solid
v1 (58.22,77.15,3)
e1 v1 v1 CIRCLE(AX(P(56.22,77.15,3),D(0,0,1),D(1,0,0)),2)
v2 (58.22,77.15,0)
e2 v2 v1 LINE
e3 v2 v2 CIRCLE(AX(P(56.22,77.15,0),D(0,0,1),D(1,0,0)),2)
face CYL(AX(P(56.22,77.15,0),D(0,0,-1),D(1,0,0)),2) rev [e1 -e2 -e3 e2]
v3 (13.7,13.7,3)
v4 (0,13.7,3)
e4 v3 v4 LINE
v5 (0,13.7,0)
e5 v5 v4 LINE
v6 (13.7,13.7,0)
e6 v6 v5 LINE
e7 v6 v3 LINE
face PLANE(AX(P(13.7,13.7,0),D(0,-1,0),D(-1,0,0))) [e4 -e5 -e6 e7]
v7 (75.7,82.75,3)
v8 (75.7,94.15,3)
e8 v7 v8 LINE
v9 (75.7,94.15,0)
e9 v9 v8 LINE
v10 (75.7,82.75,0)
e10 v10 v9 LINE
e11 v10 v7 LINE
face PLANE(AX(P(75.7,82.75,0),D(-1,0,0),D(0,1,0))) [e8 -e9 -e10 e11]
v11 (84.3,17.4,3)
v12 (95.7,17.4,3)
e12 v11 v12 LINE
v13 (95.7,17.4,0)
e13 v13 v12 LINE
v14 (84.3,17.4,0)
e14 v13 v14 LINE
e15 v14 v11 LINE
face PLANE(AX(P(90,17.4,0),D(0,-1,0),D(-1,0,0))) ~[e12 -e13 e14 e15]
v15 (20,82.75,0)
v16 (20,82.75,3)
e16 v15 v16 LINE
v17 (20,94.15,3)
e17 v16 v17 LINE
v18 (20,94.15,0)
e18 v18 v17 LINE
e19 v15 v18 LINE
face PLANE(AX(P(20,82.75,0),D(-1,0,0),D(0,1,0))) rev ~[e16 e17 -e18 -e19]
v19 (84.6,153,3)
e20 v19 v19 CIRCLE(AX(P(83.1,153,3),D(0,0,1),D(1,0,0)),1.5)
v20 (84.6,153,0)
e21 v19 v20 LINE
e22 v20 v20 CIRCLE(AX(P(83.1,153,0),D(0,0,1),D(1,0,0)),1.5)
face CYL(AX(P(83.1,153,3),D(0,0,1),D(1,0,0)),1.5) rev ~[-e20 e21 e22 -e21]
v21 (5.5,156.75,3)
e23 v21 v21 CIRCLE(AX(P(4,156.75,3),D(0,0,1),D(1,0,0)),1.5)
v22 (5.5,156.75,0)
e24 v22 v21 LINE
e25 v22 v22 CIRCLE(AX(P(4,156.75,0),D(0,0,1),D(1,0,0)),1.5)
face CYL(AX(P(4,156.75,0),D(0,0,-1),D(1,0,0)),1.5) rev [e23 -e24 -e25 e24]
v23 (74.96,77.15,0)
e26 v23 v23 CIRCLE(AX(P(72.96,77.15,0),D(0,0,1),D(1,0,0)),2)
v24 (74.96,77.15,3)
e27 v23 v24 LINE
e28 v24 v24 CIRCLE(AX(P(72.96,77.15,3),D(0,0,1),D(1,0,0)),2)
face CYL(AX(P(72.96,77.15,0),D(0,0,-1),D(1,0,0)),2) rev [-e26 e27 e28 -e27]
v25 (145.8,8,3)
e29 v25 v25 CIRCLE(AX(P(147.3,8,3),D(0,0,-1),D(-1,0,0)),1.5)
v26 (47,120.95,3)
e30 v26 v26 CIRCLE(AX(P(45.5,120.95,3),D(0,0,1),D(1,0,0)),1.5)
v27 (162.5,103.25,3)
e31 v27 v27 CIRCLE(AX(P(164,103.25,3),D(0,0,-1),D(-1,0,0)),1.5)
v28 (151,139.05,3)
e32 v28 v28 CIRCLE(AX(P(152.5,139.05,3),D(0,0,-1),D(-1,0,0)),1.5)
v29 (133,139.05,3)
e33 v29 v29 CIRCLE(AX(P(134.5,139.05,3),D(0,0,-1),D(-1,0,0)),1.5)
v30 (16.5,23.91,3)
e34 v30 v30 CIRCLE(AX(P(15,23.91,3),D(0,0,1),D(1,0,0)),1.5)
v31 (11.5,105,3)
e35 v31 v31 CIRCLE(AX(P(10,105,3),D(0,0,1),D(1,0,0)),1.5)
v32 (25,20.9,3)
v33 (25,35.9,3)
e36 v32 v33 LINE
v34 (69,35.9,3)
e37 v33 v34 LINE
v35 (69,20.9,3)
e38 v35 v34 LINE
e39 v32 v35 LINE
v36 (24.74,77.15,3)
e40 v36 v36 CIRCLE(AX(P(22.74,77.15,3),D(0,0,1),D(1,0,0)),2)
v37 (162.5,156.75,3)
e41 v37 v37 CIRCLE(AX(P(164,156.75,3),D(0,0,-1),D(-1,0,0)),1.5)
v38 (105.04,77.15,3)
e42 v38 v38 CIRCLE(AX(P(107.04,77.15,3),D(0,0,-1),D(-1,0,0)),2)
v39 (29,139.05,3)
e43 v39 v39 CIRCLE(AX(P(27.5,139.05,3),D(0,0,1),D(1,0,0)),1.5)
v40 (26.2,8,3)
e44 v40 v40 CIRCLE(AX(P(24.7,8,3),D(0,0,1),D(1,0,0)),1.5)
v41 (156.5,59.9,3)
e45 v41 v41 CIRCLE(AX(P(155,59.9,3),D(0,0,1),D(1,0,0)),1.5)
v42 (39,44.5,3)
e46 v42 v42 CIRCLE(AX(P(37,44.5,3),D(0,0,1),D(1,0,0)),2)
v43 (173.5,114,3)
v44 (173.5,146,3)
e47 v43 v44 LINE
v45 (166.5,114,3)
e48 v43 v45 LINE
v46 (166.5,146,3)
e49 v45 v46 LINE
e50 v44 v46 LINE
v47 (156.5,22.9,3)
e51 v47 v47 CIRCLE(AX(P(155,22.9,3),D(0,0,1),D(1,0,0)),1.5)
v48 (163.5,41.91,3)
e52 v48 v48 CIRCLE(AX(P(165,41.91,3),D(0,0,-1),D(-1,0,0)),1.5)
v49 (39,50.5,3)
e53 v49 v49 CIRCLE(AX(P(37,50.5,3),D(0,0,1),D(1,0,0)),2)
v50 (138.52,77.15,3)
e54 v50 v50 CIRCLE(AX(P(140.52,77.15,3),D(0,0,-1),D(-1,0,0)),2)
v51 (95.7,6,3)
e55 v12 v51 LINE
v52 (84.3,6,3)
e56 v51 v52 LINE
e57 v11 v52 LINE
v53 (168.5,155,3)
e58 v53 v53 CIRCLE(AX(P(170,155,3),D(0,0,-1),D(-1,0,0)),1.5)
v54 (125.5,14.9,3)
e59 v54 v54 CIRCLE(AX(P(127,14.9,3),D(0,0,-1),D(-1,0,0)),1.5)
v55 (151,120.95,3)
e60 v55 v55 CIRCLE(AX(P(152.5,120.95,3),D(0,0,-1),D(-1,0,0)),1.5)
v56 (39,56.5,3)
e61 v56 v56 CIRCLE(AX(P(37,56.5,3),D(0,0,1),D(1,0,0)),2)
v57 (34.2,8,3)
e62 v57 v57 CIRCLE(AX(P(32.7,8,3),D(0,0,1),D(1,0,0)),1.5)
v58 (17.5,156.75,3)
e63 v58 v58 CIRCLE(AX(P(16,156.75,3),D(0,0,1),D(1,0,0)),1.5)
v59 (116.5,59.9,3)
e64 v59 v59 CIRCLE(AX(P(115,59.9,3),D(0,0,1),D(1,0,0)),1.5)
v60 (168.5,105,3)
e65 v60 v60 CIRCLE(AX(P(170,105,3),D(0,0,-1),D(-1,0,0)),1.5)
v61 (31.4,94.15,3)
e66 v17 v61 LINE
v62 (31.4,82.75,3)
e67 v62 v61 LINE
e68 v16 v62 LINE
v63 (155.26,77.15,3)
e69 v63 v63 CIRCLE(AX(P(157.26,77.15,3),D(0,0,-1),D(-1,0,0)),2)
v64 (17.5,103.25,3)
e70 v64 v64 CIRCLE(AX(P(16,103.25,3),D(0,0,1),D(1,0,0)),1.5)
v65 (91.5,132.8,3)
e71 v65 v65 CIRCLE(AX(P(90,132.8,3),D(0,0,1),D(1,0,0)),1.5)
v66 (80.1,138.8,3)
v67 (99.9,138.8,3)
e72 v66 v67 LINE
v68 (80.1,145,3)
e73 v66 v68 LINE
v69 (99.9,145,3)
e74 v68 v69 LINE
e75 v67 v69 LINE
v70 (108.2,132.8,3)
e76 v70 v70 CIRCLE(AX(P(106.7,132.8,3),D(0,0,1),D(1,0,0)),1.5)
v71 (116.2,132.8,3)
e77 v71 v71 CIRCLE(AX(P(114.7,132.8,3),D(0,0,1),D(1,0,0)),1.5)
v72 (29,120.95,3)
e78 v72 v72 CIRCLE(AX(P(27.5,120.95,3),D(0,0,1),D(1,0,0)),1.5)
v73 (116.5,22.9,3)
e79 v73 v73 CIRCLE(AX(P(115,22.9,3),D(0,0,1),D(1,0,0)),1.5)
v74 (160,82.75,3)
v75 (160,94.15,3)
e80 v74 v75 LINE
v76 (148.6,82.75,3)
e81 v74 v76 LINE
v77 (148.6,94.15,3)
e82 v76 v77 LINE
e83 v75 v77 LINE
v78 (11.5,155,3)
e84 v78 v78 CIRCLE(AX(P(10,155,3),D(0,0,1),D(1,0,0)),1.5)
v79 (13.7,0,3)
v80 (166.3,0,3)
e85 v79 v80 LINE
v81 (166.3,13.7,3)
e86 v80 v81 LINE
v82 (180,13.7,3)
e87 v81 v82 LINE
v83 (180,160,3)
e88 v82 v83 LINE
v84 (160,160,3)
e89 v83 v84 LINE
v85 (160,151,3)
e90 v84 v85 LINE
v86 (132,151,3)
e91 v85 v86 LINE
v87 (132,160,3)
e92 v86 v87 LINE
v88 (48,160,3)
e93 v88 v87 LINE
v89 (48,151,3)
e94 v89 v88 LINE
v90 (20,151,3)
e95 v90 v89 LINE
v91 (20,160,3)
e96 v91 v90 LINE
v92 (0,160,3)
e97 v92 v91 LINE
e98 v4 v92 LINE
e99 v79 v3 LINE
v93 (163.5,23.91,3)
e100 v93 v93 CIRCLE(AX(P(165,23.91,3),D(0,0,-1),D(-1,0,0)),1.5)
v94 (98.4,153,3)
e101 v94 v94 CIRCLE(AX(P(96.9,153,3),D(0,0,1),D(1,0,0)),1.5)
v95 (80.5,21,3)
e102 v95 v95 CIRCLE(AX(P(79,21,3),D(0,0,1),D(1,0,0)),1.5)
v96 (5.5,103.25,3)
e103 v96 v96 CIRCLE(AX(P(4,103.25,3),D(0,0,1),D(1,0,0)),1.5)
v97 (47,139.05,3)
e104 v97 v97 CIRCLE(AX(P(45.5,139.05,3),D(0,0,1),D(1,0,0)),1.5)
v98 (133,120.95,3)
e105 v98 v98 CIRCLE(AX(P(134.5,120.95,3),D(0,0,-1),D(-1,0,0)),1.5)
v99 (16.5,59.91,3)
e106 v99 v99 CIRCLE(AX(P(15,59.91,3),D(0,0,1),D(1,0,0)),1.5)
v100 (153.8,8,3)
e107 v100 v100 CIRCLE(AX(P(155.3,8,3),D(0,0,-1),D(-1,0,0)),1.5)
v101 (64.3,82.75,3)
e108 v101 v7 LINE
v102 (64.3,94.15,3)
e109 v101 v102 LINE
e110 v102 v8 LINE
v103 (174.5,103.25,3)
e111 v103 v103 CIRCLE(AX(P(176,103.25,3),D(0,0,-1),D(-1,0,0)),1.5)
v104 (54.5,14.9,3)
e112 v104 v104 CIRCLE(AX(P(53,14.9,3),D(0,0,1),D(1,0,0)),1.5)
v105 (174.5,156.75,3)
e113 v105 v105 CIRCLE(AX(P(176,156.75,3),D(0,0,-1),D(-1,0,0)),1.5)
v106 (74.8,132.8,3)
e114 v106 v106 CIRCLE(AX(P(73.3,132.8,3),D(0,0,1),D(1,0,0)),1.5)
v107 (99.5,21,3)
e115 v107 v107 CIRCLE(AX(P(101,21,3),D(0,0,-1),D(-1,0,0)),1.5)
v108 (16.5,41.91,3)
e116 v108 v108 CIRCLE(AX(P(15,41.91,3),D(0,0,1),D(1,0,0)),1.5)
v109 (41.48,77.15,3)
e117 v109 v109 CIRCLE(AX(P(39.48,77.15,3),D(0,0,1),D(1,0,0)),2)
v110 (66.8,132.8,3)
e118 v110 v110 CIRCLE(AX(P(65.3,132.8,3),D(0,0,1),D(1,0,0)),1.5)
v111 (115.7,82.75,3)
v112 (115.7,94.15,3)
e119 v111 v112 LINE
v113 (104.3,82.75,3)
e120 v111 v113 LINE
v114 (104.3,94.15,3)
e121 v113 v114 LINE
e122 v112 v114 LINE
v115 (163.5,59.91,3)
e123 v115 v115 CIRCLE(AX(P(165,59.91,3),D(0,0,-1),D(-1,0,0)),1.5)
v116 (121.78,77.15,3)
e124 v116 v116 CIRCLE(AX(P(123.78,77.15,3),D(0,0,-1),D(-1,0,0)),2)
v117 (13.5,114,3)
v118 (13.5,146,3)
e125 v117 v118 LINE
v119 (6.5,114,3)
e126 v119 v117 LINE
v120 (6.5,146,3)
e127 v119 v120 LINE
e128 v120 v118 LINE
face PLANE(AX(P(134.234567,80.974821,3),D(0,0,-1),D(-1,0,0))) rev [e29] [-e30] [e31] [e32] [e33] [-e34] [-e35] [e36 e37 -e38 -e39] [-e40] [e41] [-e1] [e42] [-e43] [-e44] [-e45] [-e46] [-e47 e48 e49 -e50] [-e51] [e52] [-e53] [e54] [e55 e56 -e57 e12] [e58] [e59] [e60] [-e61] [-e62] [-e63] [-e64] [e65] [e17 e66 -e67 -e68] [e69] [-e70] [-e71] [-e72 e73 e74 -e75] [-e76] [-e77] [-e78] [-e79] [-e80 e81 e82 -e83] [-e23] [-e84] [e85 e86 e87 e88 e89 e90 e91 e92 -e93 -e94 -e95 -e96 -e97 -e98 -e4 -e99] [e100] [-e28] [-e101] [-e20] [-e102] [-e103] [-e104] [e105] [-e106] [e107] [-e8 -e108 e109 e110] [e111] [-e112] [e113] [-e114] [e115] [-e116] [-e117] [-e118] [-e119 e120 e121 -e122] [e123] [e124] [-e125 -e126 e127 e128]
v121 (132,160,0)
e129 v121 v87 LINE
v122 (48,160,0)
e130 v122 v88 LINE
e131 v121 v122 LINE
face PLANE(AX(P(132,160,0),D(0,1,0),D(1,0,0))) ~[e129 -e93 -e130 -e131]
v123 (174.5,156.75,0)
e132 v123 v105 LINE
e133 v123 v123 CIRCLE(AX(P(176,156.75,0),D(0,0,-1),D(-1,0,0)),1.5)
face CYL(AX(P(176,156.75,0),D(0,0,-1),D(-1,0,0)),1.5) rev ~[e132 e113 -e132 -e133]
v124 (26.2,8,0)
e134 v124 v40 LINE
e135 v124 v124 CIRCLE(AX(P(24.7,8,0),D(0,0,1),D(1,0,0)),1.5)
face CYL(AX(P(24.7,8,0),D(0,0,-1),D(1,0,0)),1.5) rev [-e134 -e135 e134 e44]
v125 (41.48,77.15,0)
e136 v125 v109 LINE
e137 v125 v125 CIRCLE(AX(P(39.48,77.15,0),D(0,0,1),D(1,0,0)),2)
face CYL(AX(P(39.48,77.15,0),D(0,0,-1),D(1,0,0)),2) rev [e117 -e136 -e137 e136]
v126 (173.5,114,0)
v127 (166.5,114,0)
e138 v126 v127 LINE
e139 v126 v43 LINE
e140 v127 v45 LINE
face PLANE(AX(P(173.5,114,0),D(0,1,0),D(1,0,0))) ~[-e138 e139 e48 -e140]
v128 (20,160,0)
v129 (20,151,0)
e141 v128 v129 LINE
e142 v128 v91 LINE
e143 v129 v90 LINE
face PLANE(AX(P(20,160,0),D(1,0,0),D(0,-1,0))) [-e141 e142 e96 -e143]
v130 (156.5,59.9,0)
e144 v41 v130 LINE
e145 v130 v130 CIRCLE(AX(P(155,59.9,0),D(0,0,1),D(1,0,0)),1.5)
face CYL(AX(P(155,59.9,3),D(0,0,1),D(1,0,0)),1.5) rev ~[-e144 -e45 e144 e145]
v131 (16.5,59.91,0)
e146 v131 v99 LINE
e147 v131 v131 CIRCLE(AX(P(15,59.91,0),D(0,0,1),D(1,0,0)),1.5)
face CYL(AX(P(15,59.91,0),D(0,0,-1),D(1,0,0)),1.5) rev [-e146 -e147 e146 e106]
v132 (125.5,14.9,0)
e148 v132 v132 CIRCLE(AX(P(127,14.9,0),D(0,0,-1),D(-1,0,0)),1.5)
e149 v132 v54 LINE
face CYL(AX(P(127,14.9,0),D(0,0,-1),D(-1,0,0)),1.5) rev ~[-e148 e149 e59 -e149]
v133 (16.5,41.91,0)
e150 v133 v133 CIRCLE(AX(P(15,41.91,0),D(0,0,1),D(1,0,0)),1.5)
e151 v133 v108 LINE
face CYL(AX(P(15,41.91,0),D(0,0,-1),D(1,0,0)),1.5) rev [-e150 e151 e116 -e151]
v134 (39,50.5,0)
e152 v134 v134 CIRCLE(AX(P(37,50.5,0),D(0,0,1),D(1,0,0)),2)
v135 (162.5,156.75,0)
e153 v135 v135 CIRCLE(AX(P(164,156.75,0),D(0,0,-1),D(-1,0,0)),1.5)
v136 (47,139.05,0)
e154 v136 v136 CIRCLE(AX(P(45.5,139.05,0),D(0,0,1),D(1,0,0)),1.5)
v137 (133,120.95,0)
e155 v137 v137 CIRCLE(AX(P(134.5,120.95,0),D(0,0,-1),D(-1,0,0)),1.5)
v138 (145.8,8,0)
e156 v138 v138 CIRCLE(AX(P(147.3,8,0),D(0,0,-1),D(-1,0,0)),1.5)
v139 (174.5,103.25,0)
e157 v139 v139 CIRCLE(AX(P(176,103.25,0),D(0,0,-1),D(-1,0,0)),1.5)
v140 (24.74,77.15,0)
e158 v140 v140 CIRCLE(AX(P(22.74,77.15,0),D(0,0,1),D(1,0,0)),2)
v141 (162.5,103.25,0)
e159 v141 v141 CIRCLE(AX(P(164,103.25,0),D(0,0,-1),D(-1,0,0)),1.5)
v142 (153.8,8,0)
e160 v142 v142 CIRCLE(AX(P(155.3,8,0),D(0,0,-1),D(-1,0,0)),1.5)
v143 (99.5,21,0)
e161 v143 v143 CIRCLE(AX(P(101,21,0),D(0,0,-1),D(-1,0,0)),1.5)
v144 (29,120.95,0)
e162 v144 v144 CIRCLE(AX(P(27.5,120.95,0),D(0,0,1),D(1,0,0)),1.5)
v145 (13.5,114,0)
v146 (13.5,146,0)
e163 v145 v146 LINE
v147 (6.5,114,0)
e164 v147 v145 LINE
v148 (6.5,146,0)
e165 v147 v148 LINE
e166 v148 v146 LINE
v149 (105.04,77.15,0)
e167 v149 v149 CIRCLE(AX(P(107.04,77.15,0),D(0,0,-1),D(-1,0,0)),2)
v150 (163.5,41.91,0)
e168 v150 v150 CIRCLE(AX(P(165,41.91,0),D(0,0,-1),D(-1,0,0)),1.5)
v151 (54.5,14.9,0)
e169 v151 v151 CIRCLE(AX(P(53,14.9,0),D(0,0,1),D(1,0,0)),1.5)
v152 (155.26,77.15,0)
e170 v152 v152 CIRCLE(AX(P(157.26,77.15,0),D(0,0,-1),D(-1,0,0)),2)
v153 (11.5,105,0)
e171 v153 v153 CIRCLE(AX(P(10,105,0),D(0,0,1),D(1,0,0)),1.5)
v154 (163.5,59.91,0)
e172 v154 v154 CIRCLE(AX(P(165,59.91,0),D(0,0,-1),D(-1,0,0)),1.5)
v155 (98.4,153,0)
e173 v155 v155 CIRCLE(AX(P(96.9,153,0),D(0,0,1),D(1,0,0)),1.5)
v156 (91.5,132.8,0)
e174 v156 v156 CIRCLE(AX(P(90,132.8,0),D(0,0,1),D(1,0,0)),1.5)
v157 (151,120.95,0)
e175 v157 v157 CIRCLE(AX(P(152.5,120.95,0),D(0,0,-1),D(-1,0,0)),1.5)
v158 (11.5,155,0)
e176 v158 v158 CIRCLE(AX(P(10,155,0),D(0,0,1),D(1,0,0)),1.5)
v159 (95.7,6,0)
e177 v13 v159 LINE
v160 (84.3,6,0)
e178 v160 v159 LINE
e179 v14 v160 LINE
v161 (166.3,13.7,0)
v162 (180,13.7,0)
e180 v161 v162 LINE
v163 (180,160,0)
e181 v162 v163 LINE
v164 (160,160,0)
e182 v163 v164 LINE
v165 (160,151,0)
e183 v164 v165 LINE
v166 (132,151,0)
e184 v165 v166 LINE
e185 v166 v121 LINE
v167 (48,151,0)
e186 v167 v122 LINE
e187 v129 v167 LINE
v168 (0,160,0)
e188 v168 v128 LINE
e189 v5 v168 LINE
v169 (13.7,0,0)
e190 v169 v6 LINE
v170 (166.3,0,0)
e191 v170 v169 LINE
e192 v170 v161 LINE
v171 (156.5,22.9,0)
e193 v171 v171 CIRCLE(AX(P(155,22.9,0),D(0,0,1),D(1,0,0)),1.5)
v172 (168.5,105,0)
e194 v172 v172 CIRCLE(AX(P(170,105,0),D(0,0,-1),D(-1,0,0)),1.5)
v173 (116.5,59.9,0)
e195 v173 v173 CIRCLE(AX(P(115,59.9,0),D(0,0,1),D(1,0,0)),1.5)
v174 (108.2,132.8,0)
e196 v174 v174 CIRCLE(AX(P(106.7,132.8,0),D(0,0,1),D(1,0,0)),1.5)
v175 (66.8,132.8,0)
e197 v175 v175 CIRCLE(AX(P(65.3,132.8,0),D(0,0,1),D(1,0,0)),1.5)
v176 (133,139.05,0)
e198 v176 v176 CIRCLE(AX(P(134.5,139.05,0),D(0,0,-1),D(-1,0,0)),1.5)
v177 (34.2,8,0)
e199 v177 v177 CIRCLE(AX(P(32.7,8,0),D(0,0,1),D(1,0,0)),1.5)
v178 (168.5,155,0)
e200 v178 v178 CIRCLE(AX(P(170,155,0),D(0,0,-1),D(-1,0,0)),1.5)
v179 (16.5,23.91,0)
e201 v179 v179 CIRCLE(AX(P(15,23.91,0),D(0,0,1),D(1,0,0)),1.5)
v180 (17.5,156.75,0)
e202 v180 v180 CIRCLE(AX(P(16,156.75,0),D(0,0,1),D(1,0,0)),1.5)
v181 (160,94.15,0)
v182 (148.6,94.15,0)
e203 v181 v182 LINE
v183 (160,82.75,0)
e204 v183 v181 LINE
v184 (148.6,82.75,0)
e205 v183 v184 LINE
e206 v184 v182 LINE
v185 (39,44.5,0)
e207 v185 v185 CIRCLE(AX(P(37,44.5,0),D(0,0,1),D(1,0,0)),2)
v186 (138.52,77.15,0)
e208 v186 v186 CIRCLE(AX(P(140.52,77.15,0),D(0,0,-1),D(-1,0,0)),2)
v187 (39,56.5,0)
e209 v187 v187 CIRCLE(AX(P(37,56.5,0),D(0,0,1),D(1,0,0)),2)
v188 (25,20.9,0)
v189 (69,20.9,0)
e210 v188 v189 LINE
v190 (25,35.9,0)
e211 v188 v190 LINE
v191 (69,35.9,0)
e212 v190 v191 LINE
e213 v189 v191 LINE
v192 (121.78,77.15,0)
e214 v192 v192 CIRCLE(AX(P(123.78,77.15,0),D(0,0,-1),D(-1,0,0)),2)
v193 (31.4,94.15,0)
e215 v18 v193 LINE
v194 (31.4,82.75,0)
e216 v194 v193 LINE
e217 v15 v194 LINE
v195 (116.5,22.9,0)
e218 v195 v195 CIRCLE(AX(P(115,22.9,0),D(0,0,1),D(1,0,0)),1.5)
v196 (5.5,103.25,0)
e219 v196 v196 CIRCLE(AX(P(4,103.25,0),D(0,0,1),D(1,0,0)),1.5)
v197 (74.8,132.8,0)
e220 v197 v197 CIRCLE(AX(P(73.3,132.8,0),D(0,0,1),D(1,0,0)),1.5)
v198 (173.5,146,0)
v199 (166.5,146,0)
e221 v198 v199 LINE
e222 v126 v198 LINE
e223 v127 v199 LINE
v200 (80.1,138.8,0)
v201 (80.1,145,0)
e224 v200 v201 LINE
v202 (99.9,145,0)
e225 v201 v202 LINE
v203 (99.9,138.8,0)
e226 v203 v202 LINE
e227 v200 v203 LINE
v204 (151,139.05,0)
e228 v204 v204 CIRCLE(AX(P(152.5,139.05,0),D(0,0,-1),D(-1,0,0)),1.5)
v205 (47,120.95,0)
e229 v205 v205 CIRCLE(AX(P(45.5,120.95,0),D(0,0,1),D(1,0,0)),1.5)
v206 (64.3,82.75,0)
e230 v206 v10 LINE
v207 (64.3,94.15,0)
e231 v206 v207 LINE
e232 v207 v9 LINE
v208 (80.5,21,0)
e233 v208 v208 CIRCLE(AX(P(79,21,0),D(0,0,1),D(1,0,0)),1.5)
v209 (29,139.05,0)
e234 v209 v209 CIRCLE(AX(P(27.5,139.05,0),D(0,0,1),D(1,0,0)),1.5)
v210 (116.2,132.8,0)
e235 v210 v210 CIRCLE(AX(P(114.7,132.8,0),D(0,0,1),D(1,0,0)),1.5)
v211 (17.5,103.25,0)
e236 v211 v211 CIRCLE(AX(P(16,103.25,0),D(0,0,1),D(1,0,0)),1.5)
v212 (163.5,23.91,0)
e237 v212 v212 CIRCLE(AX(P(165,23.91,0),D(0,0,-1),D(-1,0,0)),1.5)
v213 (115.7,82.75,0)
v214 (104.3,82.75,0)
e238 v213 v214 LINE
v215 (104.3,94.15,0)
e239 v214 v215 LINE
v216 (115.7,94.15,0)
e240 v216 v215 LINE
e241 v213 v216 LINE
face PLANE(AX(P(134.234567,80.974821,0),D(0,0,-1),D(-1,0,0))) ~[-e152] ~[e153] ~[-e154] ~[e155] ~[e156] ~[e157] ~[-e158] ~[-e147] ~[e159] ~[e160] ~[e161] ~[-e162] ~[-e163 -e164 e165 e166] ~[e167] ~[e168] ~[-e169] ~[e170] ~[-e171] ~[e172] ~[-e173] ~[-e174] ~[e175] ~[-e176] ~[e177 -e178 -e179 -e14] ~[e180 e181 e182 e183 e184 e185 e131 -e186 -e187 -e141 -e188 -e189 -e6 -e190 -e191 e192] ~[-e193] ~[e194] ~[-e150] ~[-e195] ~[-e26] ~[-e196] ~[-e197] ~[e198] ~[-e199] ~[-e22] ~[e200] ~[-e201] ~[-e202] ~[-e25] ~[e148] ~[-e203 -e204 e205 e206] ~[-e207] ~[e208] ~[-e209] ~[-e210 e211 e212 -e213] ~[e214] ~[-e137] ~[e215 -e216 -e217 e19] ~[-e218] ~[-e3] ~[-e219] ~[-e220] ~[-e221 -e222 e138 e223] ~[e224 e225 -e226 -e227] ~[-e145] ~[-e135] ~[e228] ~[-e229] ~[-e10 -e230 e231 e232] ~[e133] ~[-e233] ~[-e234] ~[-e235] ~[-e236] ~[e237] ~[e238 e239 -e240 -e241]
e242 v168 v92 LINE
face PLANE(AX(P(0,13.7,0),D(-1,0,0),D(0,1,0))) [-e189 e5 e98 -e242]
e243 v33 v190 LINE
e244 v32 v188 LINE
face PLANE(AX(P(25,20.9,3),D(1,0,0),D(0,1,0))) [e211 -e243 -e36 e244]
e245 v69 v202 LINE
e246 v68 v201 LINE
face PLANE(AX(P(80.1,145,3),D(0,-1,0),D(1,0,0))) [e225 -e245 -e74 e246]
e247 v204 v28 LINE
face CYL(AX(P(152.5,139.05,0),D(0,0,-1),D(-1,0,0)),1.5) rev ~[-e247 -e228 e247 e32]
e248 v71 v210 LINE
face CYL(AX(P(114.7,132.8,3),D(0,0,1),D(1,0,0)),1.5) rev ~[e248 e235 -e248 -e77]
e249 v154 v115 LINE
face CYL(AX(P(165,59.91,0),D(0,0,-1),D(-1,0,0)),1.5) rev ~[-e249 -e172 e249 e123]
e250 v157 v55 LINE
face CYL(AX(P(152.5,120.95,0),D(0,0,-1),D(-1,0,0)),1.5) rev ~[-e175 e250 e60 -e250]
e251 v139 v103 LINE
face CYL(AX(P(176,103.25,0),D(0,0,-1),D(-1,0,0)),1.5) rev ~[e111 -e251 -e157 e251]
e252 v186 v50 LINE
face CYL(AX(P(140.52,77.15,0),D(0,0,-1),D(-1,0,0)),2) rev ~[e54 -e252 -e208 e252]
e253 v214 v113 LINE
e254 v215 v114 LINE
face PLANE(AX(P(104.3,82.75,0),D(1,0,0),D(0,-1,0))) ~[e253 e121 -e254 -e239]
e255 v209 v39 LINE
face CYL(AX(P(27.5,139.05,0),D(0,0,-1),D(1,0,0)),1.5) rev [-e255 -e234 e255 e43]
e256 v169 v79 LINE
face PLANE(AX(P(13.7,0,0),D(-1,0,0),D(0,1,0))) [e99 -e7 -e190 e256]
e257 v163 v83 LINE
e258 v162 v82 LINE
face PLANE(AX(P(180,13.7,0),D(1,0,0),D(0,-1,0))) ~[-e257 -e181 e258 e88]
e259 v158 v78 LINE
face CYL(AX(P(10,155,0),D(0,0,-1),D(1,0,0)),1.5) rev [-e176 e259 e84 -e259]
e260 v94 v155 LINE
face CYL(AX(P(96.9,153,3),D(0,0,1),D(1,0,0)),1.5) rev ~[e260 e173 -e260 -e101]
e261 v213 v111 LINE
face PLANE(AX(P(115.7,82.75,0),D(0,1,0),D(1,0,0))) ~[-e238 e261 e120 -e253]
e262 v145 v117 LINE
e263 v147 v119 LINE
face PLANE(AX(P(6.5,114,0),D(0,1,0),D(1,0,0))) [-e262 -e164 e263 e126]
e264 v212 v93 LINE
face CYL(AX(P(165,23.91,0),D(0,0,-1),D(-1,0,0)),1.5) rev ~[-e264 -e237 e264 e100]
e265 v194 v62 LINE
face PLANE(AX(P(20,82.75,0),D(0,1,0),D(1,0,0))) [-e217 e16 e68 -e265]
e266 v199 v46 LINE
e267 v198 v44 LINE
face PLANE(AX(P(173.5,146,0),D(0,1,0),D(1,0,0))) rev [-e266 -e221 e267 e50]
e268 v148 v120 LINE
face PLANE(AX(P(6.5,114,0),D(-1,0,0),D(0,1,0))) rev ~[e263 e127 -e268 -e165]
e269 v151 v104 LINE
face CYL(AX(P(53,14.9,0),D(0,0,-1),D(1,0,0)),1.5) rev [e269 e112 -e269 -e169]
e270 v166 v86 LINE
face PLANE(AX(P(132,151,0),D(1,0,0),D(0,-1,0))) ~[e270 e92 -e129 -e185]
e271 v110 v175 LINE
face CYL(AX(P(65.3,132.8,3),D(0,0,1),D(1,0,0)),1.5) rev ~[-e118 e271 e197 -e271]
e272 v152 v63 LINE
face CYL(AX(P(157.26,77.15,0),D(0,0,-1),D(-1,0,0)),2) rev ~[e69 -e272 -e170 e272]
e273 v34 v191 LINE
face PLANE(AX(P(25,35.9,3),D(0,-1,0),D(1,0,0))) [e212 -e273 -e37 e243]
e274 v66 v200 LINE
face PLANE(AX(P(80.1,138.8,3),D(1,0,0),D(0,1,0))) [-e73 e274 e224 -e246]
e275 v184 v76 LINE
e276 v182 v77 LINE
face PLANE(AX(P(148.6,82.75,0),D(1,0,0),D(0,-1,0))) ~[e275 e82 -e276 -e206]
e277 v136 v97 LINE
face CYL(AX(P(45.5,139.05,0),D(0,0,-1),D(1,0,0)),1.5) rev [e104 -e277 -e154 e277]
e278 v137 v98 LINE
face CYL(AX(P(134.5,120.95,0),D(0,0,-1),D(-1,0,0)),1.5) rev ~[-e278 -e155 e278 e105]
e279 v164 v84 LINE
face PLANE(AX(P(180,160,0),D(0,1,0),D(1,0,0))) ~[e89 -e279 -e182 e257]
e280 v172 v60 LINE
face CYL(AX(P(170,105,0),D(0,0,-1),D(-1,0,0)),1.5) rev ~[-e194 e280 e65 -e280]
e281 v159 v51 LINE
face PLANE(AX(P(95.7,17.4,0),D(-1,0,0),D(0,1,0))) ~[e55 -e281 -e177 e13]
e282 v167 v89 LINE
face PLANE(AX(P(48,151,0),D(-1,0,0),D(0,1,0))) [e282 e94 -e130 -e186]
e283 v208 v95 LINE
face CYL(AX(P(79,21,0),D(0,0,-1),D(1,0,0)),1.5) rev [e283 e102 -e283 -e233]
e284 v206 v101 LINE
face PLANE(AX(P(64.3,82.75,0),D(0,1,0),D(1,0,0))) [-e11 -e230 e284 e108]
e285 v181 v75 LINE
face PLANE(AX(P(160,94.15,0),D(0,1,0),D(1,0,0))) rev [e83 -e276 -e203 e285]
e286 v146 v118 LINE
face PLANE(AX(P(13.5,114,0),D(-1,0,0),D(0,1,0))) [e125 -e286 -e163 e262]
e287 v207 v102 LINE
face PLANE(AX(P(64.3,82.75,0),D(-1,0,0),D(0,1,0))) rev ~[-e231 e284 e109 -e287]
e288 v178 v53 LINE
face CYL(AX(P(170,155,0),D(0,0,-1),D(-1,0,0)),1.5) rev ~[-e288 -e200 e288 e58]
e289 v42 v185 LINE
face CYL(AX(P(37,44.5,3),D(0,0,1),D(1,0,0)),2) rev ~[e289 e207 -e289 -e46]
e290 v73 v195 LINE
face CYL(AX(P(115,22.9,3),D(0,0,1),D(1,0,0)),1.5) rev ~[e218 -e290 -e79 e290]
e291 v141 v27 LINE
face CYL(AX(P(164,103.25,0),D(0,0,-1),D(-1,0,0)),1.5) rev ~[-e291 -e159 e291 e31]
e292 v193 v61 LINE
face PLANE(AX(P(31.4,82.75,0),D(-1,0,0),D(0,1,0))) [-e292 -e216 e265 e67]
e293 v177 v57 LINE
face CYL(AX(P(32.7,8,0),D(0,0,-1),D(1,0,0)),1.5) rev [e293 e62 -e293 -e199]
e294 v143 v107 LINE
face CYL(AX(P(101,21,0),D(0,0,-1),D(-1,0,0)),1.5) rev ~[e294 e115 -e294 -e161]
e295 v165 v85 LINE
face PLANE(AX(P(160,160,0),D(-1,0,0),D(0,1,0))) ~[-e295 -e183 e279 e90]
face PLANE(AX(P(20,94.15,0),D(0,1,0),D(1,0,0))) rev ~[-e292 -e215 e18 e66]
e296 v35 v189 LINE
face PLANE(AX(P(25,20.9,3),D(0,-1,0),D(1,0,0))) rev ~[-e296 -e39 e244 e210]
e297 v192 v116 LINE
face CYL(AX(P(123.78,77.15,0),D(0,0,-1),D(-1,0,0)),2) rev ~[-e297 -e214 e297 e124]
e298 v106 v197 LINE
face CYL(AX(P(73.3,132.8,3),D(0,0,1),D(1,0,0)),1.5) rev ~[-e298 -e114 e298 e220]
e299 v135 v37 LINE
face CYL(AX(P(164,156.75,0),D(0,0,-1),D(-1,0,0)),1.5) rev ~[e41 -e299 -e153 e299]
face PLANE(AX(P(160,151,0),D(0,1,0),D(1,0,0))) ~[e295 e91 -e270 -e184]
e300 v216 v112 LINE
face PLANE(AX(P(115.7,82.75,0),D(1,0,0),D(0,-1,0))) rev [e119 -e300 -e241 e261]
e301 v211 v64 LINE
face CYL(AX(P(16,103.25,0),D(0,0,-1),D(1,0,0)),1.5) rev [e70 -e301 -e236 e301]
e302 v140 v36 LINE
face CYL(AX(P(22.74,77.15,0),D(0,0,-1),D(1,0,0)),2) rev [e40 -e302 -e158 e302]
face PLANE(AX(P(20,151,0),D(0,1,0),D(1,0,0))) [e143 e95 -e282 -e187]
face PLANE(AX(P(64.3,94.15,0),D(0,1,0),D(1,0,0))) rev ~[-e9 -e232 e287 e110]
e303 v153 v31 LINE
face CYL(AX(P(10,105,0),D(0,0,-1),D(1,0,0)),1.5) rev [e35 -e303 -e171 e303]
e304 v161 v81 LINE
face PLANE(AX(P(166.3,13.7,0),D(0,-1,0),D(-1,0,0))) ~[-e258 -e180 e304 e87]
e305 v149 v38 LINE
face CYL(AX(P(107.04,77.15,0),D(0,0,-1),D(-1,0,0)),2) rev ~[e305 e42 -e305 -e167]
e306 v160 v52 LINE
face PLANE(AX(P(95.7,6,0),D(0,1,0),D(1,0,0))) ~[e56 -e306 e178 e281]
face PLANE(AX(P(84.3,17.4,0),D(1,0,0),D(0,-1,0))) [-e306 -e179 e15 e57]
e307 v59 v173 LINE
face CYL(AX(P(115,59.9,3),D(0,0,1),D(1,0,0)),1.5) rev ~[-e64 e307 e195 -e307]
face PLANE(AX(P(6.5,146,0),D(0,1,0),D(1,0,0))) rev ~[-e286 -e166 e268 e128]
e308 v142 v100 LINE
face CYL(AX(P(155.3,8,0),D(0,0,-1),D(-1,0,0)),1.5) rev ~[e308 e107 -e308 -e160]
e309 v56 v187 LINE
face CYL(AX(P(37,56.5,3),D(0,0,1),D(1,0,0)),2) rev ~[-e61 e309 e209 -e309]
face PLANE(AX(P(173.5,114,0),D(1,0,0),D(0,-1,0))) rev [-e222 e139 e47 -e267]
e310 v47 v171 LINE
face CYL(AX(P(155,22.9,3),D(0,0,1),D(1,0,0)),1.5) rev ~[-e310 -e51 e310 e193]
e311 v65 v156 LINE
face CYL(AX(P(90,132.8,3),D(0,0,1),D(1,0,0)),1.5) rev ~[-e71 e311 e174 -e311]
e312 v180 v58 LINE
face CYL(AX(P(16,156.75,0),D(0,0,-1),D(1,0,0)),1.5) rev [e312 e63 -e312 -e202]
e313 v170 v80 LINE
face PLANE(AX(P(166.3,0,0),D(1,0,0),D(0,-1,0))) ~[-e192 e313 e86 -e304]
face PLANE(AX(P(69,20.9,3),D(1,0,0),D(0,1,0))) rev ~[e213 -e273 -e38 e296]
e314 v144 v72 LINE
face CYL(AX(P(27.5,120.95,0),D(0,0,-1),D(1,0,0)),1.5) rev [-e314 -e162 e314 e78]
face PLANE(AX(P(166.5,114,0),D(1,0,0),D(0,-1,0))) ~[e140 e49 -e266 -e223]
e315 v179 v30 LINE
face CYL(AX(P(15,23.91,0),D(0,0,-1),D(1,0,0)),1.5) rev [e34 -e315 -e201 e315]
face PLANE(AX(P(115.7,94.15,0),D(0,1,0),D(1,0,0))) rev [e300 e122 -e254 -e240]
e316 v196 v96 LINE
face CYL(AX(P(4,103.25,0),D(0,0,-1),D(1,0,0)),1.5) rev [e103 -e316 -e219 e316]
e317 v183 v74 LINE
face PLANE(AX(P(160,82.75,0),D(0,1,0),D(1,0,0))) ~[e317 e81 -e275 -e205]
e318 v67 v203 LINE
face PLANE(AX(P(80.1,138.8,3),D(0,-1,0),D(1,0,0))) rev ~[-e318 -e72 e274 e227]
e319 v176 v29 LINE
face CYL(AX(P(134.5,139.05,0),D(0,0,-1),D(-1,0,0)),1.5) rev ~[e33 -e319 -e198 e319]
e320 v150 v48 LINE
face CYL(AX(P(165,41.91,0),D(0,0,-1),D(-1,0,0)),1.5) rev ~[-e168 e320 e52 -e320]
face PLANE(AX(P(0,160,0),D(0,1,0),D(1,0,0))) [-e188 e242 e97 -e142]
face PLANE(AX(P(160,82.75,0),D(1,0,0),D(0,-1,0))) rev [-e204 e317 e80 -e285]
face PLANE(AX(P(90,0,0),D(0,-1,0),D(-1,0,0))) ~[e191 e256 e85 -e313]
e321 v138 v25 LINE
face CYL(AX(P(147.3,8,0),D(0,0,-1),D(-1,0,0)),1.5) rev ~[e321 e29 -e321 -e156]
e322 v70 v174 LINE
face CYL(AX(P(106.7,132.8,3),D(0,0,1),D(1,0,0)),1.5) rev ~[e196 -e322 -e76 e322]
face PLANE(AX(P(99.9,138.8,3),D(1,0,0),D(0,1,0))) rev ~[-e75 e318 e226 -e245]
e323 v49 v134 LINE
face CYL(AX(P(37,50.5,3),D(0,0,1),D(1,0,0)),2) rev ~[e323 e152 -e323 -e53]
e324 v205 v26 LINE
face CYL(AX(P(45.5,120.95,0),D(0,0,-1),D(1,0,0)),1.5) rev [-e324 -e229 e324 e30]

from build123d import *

# Parameters (mm, degrees)
SKETCH_R      = 1.5
SKETCH_R_2    = 2
SKETCH_W      = 7
SKETCH_H      = 32
SKETCH_W_2    = 11.4
SKETCH_H_2    = 11.4
PAD_DEPTH     = 3
SKETCH001_R   = 1.5
SKETCH001_R_2 = 2
SKETCH001_W   = 19.8
SKETCH001_H   = 6.2
SKETCH001_W_2 = 44
SKETCH001_H_2 = 15
POCKET_DEPTH  = 3.001


with BuildPart() as part:
    # Sketch → Pad (new body)
    with BuildSketch(Plane.XY):
        Polygon((90, 160), (90, 17.4), (84.3, 17.4), (84.3, 6), (90, 6), (90, 0), (13.7, 0), (13.7, 13.7), (0, 13.7), (0, 160), (20, 160), (20, 151), (48, 151), (48, 160), align=None)
        with Locations((10, 155)):
            Circle(SKETCH_R, mode=Mode.SUBTRACT)
        with Locations((10, 105)):
            Circle(SKETCH_R, mode=Mode.SUBTRACT)
        with Locations((27.5, 139.05)):
            Circle(SKETCH_R, mode=Mode.SUBTRACT)
        with Locations((45.5, 139.05)):
            Circle(SKETCH_R, mode=Mode.SUBTRACT)
        with Locations((27.5, 120.95)):
            Circle(SKETCH_R, mode=Mode.SUBTRACT)
        with Locations((45.5, 120.95)):
            Circle(SKETCH_R, mode=Mode.SUBTRACT)
        with Locations((4, 156.75)):
            Circle(SKETCH_R, mode=Mode.SUBTRACT)
        with Locations((16, 156.75)):
            Circle(SKETCH_R, mode=Mode.SUBTRACT)
        with Locations((4, 103.25)):
            Circle(SKETCH_R, mode=Mode.SUBTRACT)
        with Locations((16, 103.25)):
            Circle(SKETCH_R, mode=Mode.SUBTRACT)
        with Locations((24.7, 8)):
            Circle(SKETCH_R, mode=Mode.SUBTRACT)
        with Locations((32.7, 8)):
            Circle(SKETCH_R, mode=Mode.SUBTRACT)
        with Locations((79, 21)):
            Circle(SKETCH_R, mode=Mode.SUBTRACT)
        with Locations((22.74, 77.15)):
            Circle(SKETCH_R_2, mode=Mode.SUBTRACT)
        with Locations((39.48, 77.15)):
            Circle(SKETCH_R_2, mode=Mode.SUBTRACT)
        with Locations((56.22, 77.15)):
            Circle(SKETCH_R_2, mode=Mode.SUBTRACT)
        with Locations((72.96, 77.15)):
            Circle(SKETCH_R_2, mode=Mode.SUBTRACT)
        with Locations((53, 14.9)):
            Circle(SKETCH_R, mode=Mode.SUBTRACT)
        with Locations((15, 59.91)):
            Circle(SKETCH_R, mode=Mode.SUBTRACT)
        with Locations((15, 41.91)):
            Circle(SKETCH_R, mode=Mode.SUBTRACT)
        with Locations((15, 23.91)):
            Circle(SKETCH_R, mode=Mode.SUBTRACT)
        with Locations((10, 130)):
            Rectangle(SKETCH_W, SKETCH_H, mode=Mode.SUBTRACT)
        with Locations((25.7, 88.45)):
            Rectangle(SKETCH_W_2, SKETCH_H_2, mode=Mode.SUBTRACT)
        with Locations((70, 88.45)):
            Rectangle(SKETCH_W_2, SKETCH_H_2, mode=Mode.SUBTRACT)
    pad = extrude(amount=PAD_DEPTH)

    # Mirrored: Pad across face of Pad
    add(pad.mirror(Plane(origin=(90, 88.7, 1.5), x_dir=(0, 1, 0), z_dir=(1, 0, 0))))

    # Sketch001 → Pocket (cut, through all)
    with BuildSketch(Plane.XY.offset(3)):
        with Locations((90, 132.8)):
            Circle(SKETCH001_R)
        with Locations((106.7, 132.8)):
            Circle(SKETCH001_R)
        with Locations((114.7, 132.8)):
            Circle(SKETCH001_R)
        with Locations((73.3, 132.8)):
            Circle(SKETCH001_R)
        with Locations((65.3, 132.8)):
            Circle(SKETCH001_R)
        with Locations((96.9, 153)):
            Circle(SKETCH001_R)
        with Locations((83.1, 153)):
            Circle(SKETCH001_R)
        with Locations((37, 56.5)):
            Circle(SKETCH001_R_2)
        with Locations((37, 50.5)):
            Circle(SKETCH001_R_2)
        with Locations((37, 44.5)):
            Circle(SKETCH001_R_2)
        with Locations((115, 59.9)):
            Circle(SKETCH001_R)
        with Locations((155, 59.9)):
            Circle(SKETCH001_R)
        with Locations((115, 22.9)):
            Circle(SKETCH001_R)
        with Locations((155, 22.9)):
            Circle(SKETCH001_R)
        with Locations((90, 141.9)):
            Rectangle(SKETCH001_W, SKETCH001_H)
        with Locations((47, 28.4)):
            Rectangle(SKETCH001_W_2, SKETCH001_H_2)
    extrude(amount=-POCKET_DEPTH, mode=Mode.SUBTRACT)


solid = part.part
